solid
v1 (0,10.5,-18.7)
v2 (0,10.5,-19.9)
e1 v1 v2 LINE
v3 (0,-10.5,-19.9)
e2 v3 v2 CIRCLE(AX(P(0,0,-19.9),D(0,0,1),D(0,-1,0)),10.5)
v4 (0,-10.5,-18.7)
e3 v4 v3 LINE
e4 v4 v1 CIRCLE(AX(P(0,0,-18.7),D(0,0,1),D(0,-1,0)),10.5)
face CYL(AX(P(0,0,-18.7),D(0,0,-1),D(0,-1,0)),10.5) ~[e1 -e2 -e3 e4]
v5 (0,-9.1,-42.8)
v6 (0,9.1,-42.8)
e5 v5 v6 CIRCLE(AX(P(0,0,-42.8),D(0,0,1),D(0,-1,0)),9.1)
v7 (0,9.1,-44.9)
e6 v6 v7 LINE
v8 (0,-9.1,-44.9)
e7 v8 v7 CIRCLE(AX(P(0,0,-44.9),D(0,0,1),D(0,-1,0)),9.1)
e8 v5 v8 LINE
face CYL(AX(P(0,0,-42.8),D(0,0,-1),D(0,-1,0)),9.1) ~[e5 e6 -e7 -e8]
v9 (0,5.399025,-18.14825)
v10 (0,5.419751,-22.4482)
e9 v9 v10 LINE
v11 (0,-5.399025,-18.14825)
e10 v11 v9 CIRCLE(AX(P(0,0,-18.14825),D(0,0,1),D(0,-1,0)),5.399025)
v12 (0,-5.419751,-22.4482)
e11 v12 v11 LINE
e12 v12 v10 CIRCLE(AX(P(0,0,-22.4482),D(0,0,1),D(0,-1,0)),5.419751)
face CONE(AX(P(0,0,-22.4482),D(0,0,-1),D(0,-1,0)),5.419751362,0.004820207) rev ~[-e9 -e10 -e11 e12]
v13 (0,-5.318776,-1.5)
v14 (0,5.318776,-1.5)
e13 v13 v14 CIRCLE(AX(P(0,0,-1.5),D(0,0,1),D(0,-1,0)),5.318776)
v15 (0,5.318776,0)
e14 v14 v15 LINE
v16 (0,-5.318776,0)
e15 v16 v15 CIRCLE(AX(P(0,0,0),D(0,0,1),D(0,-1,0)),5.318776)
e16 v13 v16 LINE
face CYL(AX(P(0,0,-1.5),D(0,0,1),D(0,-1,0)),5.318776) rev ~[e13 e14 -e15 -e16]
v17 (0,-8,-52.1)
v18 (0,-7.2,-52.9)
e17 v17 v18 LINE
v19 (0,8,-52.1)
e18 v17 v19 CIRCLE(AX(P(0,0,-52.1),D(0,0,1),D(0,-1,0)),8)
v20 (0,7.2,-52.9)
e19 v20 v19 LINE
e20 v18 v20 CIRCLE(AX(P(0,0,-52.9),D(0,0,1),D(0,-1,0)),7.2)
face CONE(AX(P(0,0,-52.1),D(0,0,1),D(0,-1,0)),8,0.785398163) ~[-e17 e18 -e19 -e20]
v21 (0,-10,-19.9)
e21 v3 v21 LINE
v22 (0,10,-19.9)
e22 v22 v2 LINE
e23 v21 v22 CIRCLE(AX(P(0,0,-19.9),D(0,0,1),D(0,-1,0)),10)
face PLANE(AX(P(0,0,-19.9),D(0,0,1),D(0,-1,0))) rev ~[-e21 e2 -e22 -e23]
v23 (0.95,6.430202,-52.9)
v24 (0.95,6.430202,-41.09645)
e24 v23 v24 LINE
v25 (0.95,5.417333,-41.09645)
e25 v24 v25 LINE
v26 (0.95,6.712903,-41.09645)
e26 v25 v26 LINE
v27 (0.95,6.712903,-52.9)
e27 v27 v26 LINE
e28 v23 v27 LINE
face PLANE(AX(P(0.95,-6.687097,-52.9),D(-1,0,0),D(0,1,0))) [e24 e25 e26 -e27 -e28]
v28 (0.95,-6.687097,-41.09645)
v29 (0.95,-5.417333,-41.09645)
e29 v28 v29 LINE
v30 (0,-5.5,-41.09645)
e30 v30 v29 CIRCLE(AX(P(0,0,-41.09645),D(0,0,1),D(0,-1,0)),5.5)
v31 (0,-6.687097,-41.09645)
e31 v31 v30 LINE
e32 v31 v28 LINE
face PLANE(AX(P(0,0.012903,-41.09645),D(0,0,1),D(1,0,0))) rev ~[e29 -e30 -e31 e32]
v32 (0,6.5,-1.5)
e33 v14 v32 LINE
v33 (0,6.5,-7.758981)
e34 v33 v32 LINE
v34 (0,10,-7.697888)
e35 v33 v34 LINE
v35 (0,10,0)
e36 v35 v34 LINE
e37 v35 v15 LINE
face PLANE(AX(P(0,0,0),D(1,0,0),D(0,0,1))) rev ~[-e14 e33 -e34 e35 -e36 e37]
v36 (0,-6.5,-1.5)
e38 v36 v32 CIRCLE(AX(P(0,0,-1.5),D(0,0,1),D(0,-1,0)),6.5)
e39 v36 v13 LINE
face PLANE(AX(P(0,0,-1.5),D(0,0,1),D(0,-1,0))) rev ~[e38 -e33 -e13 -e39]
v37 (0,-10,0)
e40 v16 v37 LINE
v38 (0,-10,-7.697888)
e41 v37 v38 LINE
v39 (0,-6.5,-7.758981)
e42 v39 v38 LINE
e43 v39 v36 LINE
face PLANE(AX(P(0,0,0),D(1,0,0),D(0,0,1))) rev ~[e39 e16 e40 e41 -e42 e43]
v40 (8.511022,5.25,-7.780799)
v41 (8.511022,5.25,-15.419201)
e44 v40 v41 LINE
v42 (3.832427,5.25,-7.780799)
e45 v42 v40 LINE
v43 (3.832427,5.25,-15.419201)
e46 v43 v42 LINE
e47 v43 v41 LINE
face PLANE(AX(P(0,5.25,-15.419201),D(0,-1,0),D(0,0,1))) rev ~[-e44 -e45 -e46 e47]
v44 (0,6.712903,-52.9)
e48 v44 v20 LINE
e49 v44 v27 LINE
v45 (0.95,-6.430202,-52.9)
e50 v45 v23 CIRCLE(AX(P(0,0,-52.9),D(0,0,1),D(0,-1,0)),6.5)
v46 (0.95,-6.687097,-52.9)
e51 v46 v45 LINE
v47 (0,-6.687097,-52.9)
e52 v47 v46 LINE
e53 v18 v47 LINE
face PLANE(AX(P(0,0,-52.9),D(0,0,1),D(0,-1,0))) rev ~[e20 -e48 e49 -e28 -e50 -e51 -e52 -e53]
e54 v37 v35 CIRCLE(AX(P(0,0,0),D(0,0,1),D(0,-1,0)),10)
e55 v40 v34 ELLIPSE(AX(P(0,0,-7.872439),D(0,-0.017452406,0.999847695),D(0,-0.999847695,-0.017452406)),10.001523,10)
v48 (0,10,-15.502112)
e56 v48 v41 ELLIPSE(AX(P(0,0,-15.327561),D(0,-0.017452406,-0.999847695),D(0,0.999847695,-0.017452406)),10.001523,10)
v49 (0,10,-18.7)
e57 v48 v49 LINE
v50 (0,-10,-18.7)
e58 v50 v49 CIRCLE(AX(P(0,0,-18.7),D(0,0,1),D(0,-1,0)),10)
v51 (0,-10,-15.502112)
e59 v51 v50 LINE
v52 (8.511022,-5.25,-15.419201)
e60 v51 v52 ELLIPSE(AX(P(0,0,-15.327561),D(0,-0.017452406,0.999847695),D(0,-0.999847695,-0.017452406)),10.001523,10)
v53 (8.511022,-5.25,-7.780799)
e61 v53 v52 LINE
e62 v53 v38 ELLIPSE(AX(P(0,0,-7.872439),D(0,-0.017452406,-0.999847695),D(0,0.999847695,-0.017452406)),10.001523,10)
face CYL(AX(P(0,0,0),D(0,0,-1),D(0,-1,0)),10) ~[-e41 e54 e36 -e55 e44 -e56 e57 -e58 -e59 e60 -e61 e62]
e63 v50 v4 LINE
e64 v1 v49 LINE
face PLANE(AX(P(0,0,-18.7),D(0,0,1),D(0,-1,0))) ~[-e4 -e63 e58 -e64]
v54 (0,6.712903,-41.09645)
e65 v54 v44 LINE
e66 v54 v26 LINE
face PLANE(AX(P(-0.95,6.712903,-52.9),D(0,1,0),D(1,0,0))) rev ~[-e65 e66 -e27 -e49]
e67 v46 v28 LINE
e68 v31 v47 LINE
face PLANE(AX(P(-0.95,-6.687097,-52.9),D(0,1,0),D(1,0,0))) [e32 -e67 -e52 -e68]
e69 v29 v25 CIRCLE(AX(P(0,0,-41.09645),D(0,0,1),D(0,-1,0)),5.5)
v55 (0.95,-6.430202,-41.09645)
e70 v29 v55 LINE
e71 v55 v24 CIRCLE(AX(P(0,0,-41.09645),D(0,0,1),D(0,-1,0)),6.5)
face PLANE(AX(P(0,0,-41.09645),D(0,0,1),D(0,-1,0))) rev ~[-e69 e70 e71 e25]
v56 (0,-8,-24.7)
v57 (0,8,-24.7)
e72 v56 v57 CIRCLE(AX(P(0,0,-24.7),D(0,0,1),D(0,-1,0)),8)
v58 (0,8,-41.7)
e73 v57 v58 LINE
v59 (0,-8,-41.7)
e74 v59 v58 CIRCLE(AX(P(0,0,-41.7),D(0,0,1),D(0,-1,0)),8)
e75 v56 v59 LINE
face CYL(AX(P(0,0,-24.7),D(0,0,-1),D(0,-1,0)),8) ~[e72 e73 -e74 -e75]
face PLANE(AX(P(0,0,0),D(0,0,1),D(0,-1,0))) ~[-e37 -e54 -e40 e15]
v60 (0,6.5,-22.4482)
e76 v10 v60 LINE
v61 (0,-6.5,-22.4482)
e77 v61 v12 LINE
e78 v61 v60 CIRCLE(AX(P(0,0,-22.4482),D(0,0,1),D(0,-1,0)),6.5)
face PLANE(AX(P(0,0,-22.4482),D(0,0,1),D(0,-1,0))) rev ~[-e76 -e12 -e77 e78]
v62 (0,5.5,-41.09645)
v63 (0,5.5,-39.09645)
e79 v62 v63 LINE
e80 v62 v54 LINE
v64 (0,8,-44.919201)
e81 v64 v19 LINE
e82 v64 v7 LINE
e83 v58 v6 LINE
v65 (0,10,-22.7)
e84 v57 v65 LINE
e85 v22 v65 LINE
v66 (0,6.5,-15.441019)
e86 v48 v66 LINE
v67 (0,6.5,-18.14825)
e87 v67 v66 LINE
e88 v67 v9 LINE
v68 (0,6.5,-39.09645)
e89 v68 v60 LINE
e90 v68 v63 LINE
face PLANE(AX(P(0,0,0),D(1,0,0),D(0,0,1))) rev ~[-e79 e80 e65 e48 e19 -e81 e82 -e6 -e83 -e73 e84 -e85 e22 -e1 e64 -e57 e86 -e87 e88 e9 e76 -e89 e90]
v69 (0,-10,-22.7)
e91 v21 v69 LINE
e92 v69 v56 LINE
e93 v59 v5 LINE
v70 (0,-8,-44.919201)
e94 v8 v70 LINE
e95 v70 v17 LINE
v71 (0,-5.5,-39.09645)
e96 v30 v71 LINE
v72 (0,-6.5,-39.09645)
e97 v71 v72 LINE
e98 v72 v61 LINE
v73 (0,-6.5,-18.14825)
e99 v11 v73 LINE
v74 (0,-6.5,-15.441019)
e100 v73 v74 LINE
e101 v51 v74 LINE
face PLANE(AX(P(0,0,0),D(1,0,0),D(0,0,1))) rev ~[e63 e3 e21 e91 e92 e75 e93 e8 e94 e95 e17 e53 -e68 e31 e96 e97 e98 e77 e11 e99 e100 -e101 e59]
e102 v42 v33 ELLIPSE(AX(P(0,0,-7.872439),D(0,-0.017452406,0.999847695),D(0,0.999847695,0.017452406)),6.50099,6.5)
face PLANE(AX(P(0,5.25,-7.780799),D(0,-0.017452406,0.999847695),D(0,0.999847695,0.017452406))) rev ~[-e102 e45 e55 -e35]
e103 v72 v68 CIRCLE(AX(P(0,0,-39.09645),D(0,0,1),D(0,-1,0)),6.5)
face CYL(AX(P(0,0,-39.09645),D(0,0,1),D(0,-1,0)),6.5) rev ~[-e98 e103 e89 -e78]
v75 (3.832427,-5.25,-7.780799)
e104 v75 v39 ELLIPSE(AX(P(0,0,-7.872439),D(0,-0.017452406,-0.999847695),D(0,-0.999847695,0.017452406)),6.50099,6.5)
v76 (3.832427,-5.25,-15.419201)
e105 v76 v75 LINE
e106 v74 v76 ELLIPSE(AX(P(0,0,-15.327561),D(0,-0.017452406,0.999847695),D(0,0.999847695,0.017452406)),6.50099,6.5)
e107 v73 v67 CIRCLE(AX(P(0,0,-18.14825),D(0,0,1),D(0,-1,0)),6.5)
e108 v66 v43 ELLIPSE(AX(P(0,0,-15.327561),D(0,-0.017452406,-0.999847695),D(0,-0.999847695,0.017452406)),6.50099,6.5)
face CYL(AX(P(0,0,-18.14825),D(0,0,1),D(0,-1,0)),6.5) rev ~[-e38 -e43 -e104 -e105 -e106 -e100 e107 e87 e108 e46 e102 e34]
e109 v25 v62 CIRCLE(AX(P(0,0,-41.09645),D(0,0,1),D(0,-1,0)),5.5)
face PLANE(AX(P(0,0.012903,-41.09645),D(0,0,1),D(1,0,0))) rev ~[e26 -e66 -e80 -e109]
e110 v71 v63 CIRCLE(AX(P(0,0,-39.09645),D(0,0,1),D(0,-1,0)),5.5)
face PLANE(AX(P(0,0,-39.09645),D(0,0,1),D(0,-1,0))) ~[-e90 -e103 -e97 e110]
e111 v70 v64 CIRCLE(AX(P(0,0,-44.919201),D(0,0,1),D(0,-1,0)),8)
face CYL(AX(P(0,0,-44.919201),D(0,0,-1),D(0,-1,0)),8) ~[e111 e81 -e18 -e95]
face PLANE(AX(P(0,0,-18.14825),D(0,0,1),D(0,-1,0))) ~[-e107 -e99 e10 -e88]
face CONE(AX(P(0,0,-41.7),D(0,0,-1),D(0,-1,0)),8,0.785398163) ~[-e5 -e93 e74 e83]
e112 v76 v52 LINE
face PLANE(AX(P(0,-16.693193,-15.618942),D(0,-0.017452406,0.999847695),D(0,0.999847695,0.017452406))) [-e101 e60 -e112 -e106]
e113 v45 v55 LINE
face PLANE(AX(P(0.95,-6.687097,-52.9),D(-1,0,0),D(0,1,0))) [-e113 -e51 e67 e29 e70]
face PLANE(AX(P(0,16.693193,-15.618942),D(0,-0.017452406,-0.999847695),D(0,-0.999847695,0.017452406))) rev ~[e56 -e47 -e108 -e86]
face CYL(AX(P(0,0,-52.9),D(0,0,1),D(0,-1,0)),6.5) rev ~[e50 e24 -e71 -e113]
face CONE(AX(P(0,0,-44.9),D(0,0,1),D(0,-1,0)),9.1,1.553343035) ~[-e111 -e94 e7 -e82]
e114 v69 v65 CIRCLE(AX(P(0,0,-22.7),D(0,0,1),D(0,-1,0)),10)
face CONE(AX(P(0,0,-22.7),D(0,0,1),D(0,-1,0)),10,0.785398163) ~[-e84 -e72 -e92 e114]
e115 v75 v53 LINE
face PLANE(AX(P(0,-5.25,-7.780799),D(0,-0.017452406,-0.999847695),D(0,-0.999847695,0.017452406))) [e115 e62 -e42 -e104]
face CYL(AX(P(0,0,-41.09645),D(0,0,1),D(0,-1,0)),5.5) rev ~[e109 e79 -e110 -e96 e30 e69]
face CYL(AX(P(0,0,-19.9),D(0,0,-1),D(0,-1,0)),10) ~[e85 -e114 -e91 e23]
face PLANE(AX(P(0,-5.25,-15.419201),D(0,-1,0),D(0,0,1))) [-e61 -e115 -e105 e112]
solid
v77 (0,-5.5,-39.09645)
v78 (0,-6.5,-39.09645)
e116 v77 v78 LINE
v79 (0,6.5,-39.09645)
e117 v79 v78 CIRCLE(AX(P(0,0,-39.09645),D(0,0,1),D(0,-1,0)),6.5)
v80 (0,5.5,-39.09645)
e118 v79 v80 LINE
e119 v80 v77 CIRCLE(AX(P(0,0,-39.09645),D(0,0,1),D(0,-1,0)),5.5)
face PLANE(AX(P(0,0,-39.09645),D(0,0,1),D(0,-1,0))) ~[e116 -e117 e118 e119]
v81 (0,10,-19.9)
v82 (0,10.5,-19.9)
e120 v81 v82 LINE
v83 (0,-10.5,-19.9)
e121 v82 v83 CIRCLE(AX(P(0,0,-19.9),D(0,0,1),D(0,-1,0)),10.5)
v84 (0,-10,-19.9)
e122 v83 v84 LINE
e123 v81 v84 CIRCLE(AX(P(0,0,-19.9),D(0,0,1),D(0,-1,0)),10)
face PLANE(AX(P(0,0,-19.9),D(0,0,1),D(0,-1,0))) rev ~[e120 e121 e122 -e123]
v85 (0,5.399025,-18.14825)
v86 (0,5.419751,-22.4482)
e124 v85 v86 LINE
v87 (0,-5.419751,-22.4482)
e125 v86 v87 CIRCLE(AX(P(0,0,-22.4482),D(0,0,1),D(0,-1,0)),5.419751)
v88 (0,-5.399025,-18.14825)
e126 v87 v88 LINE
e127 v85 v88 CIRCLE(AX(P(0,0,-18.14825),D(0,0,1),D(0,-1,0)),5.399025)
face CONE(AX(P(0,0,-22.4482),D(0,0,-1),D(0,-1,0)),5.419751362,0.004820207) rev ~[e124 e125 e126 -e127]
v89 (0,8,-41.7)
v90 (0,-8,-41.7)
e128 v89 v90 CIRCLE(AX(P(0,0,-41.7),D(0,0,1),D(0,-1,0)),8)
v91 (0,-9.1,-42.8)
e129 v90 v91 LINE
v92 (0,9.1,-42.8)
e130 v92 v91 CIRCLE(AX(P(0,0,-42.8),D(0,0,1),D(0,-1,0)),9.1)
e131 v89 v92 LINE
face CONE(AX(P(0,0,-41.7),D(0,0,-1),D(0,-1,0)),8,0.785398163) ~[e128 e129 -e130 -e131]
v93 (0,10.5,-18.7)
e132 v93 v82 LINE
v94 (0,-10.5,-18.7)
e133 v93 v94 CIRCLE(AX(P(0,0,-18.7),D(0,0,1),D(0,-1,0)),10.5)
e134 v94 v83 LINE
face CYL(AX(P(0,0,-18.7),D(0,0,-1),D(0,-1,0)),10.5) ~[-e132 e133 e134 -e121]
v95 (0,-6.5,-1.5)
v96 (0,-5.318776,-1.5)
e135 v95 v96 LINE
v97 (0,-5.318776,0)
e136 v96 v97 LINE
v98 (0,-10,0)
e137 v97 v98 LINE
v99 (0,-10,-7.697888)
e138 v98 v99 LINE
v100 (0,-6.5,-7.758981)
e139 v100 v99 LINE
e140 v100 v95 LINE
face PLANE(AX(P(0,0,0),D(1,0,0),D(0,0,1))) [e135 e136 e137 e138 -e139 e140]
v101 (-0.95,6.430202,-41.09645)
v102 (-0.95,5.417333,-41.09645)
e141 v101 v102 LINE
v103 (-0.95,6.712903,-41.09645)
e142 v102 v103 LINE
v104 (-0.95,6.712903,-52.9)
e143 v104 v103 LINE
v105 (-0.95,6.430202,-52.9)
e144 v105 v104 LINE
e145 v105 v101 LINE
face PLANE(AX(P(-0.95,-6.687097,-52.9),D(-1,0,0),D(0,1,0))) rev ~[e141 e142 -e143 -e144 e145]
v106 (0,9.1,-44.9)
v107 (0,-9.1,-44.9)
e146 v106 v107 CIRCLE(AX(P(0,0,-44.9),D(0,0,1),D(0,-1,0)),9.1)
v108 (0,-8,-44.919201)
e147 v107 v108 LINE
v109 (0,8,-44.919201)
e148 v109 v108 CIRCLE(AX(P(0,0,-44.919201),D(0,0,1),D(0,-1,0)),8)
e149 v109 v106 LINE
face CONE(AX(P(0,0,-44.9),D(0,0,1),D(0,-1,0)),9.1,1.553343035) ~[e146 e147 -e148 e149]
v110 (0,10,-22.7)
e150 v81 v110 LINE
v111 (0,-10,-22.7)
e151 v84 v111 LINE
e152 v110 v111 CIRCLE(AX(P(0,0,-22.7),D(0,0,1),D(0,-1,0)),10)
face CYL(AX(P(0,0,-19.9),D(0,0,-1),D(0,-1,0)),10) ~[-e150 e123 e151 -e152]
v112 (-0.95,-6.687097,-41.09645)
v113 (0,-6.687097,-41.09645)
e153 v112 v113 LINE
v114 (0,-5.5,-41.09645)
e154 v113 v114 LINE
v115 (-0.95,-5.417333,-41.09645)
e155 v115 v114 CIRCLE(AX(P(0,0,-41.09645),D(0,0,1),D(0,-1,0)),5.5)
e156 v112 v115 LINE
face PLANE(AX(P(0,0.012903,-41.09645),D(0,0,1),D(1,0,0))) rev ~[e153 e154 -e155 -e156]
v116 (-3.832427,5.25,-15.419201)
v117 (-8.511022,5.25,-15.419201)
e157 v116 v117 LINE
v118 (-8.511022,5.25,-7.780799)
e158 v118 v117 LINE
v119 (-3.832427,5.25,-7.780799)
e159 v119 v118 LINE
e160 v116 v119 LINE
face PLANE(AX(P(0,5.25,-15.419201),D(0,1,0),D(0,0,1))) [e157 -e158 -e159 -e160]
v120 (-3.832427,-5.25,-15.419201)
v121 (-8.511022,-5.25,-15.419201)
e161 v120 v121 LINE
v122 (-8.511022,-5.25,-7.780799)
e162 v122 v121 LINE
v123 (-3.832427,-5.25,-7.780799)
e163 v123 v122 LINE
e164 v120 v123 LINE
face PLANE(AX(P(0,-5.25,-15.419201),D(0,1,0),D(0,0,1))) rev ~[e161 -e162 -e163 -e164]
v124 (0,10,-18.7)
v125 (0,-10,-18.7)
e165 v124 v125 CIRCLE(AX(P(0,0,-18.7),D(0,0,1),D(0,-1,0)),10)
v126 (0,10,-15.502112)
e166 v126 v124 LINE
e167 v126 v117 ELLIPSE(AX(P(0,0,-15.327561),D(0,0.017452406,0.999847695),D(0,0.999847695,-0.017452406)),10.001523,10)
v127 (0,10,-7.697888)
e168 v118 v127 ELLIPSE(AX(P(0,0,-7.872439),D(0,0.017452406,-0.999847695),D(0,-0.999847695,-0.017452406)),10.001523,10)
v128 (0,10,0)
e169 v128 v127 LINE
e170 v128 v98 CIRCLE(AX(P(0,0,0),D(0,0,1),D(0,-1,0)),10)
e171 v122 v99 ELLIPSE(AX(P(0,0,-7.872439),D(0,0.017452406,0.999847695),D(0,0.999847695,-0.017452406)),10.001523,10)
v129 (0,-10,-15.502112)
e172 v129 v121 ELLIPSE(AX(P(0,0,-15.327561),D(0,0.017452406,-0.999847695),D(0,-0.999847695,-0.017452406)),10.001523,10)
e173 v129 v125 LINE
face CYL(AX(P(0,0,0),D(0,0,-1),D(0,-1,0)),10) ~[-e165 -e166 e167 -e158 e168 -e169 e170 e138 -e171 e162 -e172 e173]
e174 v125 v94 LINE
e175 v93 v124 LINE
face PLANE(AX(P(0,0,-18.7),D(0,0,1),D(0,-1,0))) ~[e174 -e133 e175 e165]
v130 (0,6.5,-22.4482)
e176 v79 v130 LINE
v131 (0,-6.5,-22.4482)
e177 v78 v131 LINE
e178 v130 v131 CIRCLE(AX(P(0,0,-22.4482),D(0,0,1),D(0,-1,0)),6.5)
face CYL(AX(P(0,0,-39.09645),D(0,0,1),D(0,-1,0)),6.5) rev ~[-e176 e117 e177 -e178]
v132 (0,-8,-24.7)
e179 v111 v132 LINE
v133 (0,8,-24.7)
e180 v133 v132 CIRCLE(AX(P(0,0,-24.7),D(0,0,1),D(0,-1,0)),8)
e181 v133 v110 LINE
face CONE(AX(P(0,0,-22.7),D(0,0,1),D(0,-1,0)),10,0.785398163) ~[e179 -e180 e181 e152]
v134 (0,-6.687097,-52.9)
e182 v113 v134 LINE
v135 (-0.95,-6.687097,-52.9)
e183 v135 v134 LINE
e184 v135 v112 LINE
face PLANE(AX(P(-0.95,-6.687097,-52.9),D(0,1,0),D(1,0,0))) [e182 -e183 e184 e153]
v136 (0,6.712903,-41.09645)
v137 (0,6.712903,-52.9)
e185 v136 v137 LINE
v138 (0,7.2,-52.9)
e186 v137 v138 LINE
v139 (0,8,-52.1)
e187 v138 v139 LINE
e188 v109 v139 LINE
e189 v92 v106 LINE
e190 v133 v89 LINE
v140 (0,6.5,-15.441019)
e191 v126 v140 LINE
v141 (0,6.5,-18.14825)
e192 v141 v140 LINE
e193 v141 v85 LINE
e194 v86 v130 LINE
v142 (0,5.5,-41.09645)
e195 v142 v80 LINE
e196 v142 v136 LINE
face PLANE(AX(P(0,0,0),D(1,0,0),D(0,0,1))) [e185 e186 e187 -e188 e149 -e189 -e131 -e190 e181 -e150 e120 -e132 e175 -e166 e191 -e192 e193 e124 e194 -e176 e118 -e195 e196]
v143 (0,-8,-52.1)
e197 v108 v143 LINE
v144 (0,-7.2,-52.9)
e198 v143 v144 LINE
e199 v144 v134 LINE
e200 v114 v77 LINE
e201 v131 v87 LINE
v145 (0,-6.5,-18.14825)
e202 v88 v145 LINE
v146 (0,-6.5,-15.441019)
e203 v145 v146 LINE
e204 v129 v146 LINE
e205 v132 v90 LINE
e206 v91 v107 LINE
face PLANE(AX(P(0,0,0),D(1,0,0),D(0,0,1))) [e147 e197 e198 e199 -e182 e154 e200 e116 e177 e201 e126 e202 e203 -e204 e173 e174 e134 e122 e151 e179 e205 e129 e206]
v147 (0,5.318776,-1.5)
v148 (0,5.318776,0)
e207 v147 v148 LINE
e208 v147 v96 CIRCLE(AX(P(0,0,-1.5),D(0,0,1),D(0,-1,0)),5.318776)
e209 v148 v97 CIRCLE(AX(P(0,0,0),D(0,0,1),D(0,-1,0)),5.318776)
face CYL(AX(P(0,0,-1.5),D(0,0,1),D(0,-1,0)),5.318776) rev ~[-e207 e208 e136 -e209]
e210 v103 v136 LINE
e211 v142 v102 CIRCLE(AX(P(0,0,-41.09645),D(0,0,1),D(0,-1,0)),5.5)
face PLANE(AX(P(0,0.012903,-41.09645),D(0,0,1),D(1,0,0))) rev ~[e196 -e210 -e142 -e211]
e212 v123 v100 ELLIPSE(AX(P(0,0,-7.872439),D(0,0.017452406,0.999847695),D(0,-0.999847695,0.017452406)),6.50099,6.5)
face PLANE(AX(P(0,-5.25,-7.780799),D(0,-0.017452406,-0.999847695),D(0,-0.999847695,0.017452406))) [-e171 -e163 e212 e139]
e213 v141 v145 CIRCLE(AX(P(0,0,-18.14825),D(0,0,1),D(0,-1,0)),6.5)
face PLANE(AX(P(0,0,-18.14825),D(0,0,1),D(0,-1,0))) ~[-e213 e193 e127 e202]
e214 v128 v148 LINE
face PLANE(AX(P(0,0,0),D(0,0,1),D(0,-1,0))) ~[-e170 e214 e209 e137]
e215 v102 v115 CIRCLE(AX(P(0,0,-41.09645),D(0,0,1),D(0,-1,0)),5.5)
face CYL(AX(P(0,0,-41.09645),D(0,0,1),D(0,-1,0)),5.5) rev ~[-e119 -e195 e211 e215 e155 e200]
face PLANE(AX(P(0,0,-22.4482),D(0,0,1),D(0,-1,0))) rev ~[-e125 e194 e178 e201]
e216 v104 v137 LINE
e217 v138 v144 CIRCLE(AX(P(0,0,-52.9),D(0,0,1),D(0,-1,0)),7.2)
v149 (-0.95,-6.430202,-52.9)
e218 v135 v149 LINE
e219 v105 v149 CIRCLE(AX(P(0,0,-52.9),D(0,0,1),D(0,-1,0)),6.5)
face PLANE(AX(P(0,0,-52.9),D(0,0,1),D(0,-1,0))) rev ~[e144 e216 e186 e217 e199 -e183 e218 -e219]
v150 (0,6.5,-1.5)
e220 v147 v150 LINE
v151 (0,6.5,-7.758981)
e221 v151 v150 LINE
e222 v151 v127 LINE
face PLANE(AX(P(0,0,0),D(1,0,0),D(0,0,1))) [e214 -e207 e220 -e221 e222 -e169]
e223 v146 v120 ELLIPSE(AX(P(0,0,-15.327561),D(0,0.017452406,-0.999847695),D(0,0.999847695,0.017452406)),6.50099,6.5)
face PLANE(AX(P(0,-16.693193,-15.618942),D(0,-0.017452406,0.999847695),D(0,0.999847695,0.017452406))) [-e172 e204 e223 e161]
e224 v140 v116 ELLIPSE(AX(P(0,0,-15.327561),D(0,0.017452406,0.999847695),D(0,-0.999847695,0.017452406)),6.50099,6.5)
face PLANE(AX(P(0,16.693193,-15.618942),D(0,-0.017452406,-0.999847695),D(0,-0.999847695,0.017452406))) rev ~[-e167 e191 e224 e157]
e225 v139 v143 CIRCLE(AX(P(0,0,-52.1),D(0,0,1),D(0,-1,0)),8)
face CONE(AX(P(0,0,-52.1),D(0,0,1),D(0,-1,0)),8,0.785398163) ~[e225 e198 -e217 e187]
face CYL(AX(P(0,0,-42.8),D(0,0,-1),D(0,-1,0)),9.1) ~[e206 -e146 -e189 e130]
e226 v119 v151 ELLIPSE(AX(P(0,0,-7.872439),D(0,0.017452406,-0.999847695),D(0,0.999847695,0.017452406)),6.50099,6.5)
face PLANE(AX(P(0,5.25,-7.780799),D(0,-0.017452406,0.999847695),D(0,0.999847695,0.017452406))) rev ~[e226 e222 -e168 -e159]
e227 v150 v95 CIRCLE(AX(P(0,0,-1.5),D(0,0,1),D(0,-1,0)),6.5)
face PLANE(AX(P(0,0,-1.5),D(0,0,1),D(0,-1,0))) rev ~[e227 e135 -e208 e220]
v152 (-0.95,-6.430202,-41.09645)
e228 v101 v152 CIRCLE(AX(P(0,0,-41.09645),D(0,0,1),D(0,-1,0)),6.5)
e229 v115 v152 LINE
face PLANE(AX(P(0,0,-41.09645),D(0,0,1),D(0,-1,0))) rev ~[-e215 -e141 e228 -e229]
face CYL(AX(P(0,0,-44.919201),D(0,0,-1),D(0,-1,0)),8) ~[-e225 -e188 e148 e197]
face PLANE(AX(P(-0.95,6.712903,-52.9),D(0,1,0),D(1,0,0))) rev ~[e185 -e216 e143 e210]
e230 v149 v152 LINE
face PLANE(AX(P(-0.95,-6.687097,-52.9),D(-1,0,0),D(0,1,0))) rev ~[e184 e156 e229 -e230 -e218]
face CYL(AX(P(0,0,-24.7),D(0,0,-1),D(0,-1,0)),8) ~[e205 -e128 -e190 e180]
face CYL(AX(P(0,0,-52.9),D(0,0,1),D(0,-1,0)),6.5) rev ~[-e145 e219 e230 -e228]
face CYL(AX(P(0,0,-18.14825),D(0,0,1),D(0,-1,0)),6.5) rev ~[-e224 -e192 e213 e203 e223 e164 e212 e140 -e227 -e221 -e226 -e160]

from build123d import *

# Parameters (mm, degrees)
CUT_EXTRUDE1_DEPTH      = 11.5
CUT_EXTRUDE1_DEPTH_BACK = 11.5
CUT_EXTRUDE2_START      = -52.9
SKETCH4_W               = 1.9
SKETCH4_H               = 13.4
CUT_EXTRUDE2_DEPTH      = 11.80355


with BuildPart() as part:
    # Sketch1 → Revolve1 (revolve)
    with BuildSketch(Plane(origin=(0, 0, 0), x_dir=(0, 0, -1), z_dir=(1, 0, 0))):
        Polygon((0, -10), (18.7, -10), (18.7, -10.5), (19.9, -10.5), (19.9, -10), (22.7, -10), (24.7, -8), (41.7, -8), (42.8, -9.1), (44.9, -9.1), (44.919200571, -8), (52.1, -8), (52.9, -7.2), (52.9, -6.5), (41.09645045, -6.5), (41.09645045, -5.5), (39.09645045, -5.5), (39.09645045, -6.5), (22.448200248, -6.5), (22.448200248, -5.419751362), (18.148250202, -5.399024551), (18.148250202, -6.5), (1.5, -6.5), (1.5, -5.318775912), (0, -5.318775912), align=None)
    revolve(axis=Axis((0, 0, -52.9), (0, 0, 1)))

    # Sketch3 → Cut-Extrude1 (cut, two sides)
    with BuildSketch(Plane(origin=(0, 0, 0), x_dir=(0, 0, -1), z_dir=(1, 0, 0))) as cut_extrude1_sk:
        Polygon((7.780799429, -5.25), (7.581057749, -16.693193187), (15.618942251, -16.693193187), (15.419200571, -5.25), align=None)
        Polygon((7.581057749, 16.693193187), (15.618942251, 16.693193187), (15.419200571, 5.25), (7.780799429, 5.25), align=None)
    extrude(amount=CUT_EXTRUDE1_DEPTH, mode=Mode.SUBTRACT)
    extrude(cut_extrude1_sk.sketch, amount=-CUT_EXTRUDE1_DEPTH_BACK, mode=Mode.SUBTRACT)

    # Sketch4 → Cut-Extrude2 (cut)
    with BuildSketch(Plane.XY.offset(CUT_EXTRUDE2_START)):
        with Locations((0, 0.012903397)):
            Rectangle(SKETCH4_W, SKETCH4_H)
    extrude(amount=CUT_EXTRUDE2_DEPTH, mode=Mode.SUBTRACT)


with BuildPart() as body_2:
    # Split1: the piece on the far side of the plane
    add(part.part)
    split(bisect_by=Plane(origin=(0, 0, 0), x_dir=(0, 0, 1), z_dir=(1, 0, 0)), keep=Keep.BOTTOM)


with BuildPart() as part_1:
    add(part.part)

    # Split1
    split(bisect_by=Plane(origin=(0, 0, 0), x_dir=(0, 0, 1), z_dir=(1, 0, 0)), keep=Keep.TOP)


solid = Compound([body_2.part, part_1.part])
